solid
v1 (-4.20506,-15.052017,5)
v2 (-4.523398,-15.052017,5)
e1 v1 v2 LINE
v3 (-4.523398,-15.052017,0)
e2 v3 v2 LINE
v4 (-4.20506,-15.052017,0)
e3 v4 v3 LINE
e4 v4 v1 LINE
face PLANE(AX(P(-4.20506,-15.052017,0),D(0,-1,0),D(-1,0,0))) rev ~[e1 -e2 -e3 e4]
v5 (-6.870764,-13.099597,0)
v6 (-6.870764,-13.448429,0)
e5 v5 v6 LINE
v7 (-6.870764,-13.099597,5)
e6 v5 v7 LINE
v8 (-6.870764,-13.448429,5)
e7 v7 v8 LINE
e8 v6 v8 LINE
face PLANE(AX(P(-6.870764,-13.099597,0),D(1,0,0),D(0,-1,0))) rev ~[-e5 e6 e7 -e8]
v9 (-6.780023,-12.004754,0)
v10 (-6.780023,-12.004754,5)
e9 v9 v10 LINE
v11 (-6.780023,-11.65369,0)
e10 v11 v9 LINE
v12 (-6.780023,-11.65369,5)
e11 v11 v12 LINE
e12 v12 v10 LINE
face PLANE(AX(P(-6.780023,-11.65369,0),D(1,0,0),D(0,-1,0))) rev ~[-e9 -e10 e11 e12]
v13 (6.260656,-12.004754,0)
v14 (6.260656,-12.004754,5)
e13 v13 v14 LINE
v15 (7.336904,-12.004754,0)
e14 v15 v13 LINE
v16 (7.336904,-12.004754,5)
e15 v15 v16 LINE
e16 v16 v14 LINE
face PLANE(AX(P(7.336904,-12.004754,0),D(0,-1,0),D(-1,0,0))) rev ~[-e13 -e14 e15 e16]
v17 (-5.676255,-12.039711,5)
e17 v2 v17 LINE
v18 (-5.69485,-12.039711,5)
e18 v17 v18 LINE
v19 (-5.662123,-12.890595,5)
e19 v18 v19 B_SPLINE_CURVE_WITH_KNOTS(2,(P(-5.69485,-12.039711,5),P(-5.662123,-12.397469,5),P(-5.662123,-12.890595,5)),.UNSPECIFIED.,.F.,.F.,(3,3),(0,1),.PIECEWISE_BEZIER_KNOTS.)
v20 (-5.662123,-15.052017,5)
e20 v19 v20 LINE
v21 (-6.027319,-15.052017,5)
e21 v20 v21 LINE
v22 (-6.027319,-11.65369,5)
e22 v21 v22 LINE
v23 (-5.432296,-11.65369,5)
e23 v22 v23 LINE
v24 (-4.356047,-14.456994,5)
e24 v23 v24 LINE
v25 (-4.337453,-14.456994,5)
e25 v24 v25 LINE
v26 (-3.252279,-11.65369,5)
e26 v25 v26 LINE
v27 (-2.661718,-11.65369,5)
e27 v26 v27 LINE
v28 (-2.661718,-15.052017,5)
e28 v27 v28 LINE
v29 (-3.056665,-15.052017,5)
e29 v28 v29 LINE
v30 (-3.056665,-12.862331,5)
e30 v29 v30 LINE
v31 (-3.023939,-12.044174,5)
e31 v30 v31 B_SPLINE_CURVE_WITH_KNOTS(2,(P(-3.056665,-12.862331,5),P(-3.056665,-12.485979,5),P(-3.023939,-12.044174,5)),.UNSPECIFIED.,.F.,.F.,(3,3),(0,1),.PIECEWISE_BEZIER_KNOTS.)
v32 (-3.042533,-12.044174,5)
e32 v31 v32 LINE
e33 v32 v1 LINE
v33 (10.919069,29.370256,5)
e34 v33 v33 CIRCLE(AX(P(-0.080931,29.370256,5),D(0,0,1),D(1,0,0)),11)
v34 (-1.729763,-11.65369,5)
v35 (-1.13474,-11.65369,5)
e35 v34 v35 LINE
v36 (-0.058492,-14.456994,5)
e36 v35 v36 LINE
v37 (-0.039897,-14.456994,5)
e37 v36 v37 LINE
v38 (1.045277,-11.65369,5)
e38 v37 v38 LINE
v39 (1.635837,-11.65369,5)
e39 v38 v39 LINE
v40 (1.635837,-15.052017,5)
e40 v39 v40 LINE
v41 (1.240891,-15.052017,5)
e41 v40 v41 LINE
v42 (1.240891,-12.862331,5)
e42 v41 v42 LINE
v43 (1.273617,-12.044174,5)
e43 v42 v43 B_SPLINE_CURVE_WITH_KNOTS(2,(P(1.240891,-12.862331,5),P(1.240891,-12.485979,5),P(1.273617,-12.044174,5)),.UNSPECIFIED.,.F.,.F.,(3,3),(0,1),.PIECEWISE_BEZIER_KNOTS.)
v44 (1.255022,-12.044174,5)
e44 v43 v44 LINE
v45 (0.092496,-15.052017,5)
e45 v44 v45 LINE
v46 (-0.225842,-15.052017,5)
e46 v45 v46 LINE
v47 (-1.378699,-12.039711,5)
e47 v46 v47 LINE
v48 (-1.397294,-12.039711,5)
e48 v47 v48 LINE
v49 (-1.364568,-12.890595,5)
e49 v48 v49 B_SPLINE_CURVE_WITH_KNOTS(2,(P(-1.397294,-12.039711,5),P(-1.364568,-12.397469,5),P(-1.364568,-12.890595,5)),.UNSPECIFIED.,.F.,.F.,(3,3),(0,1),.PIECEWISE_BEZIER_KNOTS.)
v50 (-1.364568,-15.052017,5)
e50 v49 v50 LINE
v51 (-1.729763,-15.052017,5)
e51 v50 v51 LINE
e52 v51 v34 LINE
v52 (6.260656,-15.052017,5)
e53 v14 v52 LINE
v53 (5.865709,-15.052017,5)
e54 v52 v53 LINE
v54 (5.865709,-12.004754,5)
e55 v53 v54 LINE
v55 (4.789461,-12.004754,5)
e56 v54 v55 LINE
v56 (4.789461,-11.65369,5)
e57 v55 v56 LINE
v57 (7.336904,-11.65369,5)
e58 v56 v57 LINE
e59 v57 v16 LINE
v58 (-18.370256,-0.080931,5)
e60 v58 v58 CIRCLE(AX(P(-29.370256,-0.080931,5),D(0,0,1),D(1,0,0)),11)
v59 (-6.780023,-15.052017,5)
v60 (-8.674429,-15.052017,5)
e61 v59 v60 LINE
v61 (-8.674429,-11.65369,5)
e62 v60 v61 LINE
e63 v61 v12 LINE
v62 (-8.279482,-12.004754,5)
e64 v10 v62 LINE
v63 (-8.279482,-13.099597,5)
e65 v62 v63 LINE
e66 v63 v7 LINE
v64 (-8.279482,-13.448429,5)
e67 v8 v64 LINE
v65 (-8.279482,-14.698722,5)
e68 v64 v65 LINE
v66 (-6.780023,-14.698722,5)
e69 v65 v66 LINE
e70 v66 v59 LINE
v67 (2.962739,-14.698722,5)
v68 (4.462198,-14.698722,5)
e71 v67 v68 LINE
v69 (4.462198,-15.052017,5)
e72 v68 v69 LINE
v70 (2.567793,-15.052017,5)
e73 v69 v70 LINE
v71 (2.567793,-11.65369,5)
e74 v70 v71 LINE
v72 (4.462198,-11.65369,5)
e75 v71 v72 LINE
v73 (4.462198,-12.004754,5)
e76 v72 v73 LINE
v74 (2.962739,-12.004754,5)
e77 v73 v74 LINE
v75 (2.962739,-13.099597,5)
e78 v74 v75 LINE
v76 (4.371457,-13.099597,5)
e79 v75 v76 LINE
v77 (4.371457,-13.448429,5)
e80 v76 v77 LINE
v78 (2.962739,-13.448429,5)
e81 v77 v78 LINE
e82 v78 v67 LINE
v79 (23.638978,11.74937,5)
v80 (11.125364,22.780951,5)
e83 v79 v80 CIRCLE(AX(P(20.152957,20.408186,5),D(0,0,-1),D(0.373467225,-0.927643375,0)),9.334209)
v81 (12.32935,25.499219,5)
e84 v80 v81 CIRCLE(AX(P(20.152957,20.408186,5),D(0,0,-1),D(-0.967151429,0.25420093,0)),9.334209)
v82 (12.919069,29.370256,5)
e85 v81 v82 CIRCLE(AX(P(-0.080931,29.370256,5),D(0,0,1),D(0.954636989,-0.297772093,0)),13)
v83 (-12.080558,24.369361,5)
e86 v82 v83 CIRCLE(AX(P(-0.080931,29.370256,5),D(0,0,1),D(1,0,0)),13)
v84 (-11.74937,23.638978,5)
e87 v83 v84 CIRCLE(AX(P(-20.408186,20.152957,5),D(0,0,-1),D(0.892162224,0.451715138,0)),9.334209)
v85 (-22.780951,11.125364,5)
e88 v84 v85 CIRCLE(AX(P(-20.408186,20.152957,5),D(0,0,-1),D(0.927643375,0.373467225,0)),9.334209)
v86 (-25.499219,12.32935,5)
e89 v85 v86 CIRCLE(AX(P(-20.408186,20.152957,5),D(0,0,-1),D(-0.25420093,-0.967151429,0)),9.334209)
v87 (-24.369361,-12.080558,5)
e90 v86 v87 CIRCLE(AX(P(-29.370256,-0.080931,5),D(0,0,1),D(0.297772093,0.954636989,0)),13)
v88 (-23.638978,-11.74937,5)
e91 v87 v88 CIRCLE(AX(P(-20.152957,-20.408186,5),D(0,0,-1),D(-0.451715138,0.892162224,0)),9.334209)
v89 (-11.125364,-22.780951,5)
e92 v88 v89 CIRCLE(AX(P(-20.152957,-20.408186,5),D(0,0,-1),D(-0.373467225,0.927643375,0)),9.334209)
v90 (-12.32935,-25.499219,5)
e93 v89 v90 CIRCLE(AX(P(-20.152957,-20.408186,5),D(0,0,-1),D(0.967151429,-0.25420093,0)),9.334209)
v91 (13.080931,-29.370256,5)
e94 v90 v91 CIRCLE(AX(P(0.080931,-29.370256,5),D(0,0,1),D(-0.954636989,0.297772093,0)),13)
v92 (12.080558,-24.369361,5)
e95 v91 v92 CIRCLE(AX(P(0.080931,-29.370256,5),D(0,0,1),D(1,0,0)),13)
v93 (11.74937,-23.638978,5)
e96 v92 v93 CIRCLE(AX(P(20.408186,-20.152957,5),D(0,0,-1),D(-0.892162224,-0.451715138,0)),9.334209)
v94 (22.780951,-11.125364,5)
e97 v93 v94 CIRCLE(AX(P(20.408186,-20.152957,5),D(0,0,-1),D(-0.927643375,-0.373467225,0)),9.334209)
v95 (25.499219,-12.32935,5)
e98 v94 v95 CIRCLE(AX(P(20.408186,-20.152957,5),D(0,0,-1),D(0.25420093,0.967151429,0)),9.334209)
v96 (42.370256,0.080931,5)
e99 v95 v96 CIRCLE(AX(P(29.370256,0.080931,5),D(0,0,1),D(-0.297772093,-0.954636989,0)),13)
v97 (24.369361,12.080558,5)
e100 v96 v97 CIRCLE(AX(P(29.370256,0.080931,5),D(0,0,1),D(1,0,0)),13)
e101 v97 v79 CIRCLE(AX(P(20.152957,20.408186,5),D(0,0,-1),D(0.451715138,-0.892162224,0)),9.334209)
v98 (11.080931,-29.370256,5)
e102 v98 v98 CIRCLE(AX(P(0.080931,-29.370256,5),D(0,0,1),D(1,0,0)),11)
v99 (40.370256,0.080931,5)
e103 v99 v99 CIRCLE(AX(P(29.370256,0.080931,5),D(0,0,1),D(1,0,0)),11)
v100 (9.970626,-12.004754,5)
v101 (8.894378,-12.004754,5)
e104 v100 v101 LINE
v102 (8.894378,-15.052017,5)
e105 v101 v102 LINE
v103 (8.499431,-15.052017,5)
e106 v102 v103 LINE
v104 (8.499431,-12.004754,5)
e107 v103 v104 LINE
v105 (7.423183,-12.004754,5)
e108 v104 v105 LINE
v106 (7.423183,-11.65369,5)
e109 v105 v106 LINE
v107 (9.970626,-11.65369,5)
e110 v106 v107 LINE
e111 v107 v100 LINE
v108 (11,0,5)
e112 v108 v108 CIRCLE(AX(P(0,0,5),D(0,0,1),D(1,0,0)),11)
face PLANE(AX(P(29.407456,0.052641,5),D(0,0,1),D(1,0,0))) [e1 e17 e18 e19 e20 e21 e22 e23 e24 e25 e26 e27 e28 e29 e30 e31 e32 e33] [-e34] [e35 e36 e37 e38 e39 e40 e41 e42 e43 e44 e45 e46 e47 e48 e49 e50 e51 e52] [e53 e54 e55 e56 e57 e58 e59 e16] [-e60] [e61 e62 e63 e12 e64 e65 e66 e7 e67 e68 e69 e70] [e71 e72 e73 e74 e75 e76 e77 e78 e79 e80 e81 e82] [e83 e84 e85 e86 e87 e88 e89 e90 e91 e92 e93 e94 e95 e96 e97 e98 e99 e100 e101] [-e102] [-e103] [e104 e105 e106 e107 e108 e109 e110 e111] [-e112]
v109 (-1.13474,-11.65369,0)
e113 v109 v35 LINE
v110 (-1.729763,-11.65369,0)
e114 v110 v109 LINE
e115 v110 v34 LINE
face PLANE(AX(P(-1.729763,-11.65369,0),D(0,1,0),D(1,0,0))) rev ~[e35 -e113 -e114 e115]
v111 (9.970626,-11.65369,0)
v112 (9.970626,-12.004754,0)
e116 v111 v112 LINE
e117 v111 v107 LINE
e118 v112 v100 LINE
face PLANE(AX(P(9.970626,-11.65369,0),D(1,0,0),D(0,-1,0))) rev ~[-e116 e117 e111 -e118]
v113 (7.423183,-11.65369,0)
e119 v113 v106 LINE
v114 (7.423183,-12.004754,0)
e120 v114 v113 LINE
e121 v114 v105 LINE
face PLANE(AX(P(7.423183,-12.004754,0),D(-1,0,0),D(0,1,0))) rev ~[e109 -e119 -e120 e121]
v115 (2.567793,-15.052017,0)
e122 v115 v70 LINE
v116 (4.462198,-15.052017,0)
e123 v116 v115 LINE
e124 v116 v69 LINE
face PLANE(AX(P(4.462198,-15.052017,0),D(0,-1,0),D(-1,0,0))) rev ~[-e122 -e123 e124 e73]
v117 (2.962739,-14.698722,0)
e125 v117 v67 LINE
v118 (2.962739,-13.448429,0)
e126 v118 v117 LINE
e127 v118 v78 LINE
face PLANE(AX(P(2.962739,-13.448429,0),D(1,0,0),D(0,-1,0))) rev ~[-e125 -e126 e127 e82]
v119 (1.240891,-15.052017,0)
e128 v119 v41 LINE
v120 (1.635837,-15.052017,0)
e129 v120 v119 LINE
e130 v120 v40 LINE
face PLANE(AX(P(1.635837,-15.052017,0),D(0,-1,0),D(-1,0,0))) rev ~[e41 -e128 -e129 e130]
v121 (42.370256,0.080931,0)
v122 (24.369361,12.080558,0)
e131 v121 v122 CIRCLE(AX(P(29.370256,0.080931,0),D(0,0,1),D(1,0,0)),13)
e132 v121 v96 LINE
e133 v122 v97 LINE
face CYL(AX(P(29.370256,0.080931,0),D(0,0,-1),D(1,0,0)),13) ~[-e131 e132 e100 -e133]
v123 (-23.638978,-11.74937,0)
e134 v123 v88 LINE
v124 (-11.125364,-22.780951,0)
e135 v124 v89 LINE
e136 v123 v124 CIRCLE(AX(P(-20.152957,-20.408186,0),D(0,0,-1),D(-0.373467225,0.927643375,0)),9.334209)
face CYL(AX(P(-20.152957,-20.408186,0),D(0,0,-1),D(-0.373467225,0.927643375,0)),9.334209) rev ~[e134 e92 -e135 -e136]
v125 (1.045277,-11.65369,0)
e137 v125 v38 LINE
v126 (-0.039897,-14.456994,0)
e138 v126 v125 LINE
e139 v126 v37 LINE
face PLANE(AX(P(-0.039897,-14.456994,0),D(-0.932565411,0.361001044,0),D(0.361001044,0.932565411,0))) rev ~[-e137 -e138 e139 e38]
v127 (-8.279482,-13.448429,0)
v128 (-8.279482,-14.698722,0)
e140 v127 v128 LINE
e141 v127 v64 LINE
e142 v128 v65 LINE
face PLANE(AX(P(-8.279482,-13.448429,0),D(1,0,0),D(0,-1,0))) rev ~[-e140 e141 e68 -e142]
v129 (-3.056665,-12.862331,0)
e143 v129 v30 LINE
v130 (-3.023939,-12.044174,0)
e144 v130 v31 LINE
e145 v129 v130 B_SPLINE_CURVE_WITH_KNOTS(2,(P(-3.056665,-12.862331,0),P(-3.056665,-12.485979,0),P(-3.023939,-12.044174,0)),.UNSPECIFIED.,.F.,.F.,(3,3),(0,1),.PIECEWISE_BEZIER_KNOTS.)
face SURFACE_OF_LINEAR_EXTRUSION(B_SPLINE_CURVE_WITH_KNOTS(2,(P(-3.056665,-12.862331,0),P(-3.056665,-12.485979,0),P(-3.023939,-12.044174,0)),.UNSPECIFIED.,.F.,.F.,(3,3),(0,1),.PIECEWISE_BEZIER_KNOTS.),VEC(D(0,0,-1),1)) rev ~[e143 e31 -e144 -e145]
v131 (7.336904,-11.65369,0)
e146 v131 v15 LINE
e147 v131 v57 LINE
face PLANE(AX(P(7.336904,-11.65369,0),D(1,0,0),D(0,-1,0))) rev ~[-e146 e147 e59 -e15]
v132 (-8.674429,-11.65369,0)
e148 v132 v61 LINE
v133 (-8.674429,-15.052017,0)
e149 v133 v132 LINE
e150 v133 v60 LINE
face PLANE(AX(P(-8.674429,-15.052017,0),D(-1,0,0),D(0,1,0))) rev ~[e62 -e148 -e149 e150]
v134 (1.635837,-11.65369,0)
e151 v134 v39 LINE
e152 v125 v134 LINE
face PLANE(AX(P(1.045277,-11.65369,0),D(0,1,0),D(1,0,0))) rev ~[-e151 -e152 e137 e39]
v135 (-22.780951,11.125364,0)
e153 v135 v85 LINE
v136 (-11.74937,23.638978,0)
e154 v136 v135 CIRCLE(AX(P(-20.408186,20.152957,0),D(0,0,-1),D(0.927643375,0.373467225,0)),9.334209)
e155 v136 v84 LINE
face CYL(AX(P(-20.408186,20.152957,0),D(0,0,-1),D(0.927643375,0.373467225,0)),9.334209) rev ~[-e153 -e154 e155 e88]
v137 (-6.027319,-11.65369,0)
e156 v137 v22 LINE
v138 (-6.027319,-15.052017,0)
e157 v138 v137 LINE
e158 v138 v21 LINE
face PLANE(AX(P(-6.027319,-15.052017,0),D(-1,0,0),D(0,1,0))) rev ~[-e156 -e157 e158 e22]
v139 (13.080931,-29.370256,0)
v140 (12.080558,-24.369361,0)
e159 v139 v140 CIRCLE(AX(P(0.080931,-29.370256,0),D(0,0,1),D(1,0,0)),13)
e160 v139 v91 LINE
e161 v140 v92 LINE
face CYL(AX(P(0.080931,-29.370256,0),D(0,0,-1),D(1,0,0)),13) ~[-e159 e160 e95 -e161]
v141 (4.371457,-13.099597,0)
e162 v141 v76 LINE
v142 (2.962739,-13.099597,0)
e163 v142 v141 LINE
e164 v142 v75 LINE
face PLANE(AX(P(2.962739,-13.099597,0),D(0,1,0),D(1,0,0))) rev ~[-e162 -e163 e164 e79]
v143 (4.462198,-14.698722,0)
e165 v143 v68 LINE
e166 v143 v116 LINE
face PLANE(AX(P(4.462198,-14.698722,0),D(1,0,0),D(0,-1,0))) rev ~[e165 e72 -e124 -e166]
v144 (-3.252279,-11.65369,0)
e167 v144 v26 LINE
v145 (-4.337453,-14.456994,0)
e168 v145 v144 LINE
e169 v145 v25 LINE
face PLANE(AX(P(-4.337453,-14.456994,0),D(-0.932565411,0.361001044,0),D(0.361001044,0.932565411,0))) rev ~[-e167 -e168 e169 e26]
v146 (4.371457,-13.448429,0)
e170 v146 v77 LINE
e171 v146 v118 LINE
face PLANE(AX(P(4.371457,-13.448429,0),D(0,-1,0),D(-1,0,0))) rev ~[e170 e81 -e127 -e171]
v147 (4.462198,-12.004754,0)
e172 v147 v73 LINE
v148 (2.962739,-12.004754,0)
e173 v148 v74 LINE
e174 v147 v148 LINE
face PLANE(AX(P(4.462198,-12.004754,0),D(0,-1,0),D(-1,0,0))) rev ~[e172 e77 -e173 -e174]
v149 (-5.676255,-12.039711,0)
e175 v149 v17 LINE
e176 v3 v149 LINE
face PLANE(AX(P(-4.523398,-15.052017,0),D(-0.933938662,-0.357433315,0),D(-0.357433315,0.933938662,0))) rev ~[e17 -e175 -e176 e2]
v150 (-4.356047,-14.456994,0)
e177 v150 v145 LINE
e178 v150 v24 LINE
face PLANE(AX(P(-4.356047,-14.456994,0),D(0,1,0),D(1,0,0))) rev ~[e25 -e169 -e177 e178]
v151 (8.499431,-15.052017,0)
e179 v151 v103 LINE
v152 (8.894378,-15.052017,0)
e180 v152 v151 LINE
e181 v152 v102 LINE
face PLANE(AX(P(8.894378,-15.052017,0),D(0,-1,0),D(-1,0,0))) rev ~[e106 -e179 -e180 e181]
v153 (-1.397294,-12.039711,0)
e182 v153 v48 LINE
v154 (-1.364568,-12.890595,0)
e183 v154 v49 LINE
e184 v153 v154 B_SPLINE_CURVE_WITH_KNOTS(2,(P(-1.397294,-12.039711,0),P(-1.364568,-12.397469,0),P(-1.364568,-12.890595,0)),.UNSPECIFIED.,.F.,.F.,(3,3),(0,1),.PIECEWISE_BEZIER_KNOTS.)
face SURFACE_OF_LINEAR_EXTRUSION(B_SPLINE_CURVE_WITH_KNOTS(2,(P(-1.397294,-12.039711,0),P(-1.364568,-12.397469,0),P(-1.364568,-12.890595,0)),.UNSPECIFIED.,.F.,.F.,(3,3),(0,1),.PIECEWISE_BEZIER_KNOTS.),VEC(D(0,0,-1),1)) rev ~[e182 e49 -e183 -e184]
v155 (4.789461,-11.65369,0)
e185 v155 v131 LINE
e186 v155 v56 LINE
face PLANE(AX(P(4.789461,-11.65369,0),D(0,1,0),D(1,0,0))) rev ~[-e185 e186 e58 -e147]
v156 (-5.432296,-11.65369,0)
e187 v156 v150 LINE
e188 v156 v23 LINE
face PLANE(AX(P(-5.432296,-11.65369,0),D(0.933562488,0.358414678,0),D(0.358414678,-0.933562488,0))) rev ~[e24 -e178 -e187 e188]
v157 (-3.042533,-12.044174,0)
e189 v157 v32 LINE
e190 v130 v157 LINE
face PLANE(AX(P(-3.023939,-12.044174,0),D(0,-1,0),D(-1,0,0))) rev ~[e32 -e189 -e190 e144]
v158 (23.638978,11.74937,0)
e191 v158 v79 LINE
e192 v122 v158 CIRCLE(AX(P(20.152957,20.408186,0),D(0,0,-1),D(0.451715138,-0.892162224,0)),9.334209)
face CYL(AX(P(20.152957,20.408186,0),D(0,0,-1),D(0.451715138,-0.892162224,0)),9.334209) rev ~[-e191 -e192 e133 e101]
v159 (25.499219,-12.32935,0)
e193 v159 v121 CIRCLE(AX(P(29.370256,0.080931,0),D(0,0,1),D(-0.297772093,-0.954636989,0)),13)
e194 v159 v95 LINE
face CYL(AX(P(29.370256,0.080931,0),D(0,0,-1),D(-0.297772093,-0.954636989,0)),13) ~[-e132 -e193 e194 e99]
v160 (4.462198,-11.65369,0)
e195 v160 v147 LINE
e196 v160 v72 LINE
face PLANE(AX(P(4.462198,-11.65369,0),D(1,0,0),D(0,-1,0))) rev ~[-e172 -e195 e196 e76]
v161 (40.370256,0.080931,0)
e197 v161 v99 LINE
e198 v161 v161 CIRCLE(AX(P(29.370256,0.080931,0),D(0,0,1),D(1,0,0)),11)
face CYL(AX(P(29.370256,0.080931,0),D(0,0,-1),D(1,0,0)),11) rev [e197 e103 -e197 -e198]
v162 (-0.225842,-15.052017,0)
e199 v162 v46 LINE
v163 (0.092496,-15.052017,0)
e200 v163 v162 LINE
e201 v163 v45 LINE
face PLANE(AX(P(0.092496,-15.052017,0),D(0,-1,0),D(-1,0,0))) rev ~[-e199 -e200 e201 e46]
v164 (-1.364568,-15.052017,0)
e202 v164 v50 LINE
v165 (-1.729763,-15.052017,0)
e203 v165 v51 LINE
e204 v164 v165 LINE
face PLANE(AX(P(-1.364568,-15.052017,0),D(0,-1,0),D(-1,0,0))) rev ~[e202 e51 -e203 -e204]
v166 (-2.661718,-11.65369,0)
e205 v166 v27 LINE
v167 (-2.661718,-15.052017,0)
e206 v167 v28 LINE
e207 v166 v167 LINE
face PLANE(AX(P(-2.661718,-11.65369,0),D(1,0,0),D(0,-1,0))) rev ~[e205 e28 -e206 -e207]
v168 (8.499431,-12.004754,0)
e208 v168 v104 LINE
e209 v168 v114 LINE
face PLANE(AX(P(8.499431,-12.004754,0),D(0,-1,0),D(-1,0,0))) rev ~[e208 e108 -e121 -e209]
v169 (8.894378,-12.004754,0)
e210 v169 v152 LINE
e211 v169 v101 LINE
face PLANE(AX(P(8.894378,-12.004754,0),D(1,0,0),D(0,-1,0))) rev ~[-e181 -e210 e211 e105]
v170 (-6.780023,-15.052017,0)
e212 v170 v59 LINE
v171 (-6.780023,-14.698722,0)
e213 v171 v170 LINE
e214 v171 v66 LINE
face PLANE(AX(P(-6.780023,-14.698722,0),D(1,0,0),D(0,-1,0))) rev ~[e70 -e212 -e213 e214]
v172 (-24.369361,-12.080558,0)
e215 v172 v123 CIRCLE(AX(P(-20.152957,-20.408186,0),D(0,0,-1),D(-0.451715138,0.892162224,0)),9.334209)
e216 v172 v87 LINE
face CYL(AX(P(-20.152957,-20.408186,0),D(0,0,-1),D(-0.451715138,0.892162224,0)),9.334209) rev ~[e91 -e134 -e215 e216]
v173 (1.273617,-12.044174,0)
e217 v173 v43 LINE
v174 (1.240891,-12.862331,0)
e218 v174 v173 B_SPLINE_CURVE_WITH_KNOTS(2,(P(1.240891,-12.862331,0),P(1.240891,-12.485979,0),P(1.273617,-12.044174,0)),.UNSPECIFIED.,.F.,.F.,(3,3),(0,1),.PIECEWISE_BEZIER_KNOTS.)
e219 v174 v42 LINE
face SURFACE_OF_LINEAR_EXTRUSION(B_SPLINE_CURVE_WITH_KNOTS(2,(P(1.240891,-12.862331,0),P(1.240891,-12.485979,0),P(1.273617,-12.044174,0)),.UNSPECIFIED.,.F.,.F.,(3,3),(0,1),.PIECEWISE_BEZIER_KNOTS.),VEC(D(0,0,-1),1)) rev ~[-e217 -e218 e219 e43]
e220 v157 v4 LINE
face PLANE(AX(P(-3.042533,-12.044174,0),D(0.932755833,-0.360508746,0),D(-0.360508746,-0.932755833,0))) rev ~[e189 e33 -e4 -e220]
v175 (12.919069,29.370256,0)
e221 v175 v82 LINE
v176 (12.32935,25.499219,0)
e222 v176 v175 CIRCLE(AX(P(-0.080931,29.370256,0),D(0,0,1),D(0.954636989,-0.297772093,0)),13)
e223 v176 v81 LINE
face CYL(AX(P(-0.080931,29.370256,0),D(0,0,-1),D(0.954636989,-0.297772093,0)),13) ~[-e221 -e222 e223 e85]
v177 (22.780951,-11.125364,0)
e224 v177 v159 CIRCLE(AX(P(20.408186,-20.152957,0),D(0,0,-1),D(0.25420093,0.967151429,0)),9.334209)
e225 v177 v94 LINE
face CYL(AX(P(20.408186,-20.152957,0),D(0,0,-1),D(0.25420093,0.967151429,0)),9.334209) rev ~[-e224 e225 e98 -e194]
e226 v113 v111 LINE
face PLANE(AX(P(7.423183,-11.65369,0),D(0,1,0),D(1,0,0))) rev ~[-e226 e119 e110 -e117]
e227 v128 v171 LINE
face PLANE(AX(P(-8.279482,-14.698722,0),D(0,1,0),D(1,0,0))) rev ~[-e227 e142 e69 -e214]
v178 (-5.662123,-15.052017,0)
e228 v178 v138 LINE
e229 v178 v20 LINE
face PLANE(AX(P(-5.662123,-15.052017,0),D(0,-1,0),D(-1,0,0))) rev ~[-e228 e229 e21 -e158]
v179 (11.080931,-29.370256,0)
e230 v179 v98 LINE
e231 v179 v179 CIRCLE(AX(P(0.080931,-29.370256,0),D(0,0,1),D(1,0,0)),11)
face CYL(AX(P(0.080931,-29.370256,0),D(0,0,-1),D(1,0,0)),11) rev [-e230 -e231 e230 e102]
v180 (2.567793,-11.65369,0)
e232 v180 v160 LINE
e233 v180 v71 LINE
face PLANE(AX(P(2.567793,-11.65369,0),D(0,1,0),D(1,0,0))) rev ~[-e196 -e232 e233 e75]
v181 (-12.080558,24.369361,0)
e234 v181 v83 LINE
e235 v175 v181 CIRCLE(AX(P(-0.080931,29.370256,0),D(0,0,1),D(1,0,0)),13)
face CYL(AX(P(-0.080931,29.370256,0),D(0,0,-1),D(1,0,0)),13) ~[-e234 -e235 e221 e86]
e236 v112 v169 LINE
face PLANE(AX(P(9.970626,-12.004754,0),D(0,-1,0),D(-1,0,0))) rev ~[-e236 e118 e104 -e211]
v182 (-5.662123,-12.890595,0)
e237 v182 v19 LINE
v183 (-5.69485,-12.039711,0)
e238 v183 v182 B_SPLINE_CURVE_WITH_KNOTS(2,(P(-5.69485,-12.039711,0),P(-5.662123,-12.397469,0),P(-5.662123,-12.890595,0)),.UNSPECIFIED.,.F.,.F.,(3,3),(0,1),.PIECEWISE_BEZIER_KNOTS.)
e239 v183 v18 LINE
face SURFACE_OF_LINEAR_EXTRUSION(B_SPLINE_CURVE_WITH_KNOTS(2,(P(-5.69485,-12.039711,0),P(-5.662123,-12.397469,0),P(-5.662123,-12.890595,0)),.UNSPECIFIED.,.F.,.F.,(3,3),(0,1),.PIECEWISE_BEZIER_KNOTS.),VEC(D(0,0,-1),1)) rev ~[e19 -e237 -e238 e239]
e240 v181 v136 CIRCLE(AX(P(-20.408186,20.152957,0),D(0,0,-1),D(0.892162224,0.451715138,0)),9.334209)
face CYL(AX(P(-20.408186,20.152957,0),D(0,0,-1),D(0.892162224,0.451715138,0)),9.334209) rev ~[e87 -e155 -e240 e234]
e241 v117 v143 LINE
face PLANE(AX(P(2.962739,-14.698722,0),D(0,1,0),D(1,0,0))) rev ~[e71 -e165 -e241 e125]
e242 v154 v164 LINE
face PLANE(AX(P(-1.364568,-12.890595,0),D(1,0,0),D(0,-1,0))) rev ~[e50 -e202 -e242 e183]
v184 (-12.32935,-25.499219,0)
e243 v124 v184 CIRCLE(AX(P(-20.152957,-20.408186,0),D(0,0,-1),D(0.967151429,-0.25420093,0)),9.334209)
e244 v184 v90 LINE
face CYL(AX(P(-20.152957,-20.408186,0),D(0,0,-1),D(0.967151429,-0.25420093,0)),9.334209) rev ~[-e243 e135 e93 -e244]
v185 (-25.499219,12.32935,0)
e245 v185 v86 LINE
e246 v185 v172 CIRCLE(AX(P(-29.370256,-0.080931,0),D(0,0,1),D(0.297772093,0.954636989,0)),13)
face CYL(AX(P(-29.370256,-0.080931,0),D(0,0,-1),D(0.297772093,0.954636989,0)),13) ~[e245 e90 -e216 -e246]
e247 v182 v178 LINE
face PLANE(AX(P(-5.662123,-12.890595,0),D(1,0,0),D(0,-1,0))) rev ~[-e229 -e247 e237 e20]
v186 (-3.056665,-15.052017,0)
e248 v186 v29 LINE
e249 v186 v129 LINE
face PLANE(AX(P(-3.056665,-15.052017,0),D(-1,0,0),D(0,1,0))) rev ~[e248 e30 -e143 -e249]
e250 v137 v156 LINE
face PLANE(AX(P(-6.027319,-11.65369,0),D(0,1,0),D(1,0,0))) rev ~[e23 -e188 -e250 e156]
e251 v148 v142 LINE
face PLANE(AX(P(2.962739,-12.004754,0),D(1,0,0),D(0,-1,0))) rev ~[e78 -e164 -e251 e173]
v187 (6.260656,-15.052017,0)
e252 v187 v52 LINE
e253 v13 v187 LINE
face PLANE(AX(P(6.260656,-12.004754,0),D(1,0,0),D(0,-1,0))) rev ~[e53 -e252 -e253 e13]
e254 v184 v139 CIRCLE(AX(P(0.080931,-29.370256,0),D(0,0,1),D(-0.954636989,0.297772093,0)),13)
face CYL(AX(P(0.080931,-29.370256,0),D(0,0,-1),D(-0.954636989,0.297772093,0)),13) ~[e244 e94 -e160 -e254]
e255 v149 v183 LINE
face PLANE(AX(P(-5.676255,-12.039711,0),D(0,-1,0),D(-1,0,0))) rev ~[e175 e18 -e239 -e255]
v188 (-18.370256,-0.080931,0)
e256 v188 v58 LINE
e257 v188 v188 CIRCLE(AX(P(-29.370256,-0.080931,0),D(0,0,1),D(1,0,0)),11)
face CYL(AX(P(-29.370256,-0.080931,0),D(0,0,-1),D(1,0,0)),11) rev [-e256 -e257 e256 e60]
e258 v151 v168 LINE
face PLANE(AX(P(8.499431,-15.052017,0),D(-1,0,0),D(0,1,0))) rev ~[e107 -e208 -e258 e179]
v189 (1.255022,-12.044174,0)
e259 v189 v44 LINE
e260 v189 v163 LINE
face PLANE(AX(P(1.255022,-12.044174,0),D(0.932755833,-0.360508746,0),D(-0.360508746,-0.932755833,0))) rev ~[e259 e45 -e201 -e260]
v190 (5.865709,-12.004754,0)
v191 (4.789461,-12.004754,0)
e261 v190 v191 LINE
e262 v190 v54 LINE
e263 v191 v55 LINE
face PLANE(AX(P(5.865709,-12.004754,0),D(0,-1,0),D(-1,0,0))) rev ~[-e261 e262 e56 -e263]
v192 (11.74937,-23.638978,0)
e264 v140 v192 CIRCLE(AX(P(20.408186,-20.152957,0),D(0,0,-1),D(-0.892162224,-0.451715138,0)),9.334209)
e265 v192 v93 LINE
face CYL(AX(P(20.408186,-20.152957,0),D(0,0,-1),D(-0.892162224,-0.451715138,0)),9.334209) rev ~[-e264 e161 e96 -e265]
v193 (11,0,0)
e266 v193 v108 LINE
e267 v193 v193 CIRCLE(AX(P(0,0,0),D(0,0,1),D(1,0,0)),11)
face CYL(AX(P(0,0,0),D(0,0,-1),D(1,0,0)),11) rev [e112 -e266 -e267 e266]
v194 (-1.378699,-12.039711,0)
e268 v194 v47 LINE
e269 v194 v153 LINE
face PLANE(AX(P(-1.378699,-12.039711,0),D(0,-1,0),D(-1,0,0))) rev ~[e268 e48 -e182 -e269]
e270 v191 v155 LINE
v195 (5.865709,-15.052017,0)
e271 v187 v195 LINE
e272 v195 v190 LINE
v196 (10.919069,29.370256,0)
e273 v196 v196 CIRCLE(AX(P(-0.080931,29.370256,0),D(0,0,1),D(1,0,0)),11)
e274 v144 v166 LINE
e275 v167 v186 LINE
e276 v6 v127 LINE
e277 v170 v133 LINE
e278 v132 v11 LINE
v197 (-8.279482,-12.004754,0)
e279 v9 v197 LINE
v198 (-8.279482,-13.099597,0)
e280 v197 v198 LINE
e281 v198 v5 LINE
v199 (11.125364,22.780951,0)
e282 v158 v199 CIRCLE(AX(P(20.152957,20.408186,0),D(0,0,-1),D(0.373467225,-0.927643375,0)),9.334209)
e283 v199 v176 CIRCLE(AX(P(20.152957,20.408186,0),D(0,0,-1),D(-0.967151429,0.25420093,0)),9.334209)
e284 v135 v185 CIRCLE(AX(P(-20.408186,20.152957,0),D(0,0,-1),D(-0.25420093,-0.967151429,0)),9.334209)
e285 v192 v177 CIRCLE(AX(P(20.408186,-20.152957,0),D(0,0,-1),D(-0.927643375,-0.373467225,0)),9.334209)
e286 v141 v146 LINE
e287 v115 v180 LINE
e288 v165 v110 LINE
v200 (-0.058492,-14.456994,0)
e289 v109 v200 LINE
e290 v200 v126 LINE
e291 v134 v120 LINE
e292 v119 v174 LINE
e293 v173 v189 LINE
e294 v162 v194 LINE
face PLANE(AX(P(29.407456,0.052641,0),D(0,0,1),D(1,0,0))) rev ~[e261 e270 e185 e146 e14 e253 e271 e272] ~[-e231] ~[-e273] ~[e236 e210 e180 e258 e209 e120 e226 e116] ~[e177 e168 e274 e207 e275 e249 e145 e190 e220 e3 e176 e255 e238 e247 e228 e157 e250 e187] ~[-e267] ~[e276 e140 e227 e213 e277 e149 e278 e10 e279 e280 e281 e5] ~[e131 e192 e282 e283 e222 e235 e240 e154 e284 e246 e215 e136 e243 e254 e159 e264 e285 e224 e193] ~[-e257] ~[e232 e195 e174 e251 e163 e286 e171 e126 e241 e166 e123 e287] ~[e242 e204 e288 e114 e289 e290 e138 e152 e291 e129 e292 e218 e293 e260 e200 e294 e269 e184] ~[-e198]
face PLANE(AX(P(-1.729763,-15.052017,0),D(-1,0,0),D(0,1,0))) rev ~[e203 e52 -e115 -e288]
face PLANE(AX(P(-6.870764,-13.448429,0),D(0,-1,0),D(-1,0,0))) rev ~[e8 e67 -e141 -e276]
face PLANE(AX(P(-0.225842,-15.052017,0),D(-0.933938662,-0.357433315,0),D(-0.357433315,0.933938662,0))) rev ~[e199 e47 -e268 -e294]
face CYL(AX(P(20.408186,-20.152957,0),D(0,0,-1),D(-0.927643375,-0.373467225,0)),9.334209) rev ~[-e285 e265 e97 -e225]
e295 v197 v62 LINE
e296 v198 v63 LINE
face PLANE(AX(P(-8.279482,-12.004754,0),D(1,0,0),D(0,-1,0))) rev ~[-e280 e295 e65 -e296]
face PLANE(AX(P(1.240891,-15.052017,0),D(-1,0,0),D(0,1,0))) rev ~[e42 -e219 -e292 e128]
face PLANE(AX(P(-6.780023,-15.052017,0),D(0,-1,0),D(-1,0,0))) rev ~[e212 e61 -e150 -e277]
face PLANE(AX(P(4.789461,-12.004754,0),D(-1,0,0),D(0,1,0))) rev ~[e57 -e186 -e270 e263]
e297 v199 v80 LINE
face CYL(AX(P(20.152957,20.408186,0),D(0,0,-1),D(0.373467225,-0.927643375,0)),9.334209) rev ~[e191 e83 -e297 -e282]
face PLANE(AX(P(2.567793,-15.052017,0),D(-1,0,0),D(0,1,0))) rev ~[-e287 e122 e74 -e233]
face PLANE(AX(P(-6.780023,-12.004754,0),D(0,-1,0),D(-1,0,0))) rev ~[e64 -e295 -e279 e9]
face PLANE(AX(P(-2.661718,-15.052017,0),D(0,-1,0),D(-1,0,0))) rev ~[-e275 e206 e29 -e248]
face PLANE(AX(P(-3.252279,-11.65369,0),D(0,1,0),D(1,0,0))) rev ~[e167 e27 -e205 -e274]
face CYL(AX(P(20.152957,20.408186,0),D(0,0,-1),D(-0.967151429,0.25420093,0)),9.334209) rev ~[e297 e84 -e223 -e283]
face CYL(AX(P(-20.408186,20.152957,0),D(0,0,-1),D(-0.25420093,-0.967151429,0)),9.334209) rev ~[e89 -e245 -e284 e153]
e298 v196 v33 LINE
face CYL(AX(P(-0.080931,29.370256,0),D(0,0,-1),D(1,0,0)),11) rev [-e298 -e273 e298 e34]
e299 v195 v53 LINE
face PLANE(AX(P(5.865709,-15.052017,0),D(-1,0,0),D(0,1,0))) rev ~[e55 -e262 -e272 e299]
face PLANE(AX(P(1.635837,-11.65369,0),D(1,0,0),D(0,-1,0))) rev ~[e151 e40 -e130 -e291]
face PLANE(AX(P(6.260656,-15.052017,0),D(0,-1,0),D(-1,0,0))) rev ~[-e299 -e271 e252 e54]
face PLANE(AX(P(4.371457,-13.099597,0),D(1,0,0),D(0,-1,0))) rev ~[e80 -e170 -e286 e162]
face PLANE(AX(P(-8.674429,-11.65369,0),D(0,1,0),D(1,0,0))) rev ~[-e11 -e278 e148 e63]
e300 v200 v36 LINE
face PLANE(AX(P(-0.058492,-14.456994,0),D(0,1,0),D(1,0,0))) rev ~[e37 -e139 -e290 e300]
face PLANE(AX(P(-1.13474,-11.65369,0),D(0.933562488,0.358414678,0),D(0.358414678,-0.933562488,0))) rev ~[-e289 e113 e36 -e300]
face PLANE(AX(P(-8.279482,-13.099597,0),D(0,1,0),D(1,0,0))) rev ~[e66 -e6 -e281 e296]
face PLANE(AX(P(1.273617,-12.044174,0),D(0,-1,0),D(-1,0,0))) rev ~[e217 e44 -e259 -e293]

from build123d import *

# Parameters (mm, degrees)
F0_R     = 11
F1_DEPTH = 5


with BuildPart() as f1:
    # F0 (on Top) → F1 (new body)
    with BuildSketch(Plane.XY):
        with BuildLine():
            ThreePointArc((24.3693606457, 12.0805580484), (24.0077279335, 11.9071162023), (23.6389782963, 11.7493695776))
            ThreePointArc((23.6389782963, 11.7493695776), (16.3793921161, 0.5682163901), (22.7809509477, -11.1253640126))
            ThreePointArc((22.7809509477, -11.1253640126), (24.1883269703, -11.6184397697), (25.4992191241, -12.3293495618))
            ThreePointArc((25.4992191241, -12.3293495618), (37.0733893442, -10.3910189502), (42.3702563381, 0.0809312927))
            ThreePointArc((42.3702563381, 0.0809312927), (36.5809551946, 10.8978542378), (24.3693606457, 12.0805580484))
        make_face()
        with Locations((29.3702563381, 0.0809312927)):
            Circle(F0_R, mode=Mode.SUBTRACT)
        with BuildLine():
            ThreePointArc((12.0805580484, -24.3693606457), (11.9071162023, -24.0077279335), (11.7493695776, -23.6389782963))
            ThreePointArc((11.7493695776, -23.6389782963), (0.5682163901, -16.3793921161), (-11.1253640126, -22.7809509477))
            ThreePointArc((-11.1253640126, -22.7809509477), (-11.6184397697, -24.1883269703), (-12.3293495618, -25.4992191241))
            ThreePointArc((-12.3293495618, -25.4992191241), (-1.8769181513, -42.2219809521), (13.0809312927, -29.3702563381))
            ThreePointArc((13.0809312927, -29.3702563381), (12.8283849173, -26.8202708306), (12.0805580484, -24.3693606457))
        make_face()
        with Locations((0.0809312927, -29.3702563381)):
            Circle(F0_R, mode=Mode.SUBTRACT)
        with BuildLine():
            ThreePointArc((-16.3702563381, -0.0809312927), (-18.0861752928, 6.3742615752), (-22.7809509477, 11.1253640126))
            ThreePointArc((-22.7809509477, 11.1253640126), (-24.1883269703, 11.6184397697), (-25.4992191241, 12.3293495618))
            ThreePointArc((-25.4992191241, 12.3293495618), (-42.3563525859, -0.6820171789), (-24.3693606457, -12.0805580484))
            ThreePointArc((-24.3693606457, -12.0805580484), (-24.0077279335, -11.9071162023), (-23.6389782963, -11.7493695776))
            ThreePointArc((-23.6389782963, -11.7493695776), (-18.336068227, -6.9545542624), (-16.3702563381, -0.0809312927))
        make_face()
        with Locations((-29.3702563381, -0.0809312927)):
            Circle(F0_R, mode=Mode.SUBTRACT)
        with BuildLine():
            ThreePointArc((12.3293495618, 25.4992191241), (12.7707933213, 27.412406894), (12.9190687073, 29.3702563381))
            ThreePointArc((12.9190687073, 29.3702563381), (-2.6309168002, 42.1177099627), (-12.0805580484, 24.3693606457))
            ThreePointArc((-12.0805580484, 24.3693606457), (-11.9071162023, 24.0077279335), (-11.7493695776, 23.6389782963))
            ThreePointArc((-11.7493695776, 23.6389782963), (-0.5682163901, 16.3793921161), (11.1253640126, 22.7809509477))
            ThreePointArc((11.1253640126, 22.7809509477), (11.6184397697, 24.1883269703), (12.3293495618, 25.4992191241))
        make_face()
        with Locations((-0.0809312927, 29.3702563381)):
            Circle(F0_R, mode=Mode.SUBTRACT)
        with BuildLine():
            ThreePointArc((11.1253640126, 22.7809509477), (-0.5682163901, 16.3793921161), (-11.7493695776, 23.6389782963))
            ThreePointArc((-11.7493695776, 23.6389782963), (-13.4063117417, 13.9803401177), (-22.7809509477, 11.1253640126))
            ThreePointArc((-22.7809509477, 11.1253640126), (-18.0861752928, 6.3742615752), (-16.3702563381, -0.0809312927))
            ThreePointArc((-16.3702563381, -0.0809312927), (-18.336068227, -6.9545542624), (-23.6389782963, -11.7493695776))
            ThreePointArc((-23.6389782963, -11.7493695776), (-13.9803401177, -13.4063117417), (-11.1253640126, -22.7809509477))
            ThreePointArc((-11.1253640126, -22.7809509477), (0.5682163901, -16.3793921161), (11.7493695776, -23.6389782963))
            ThreePointArc((11.7493695776, -23.6389782963), (13.4063117417, -13.9803401177), (22.7809509477, -11.1253640126))
            ThreePointArc((22.7809509477, -11.1253640126), (16.3793921161, 0.5682163901), (23.6389782963, 11.7493695776))
            ThreePointArc((23.6389782963, 11.7493695776), (13.9803401177, 13.4063117417), (11.1253640126, 22.7809509477))
        make_face()
        Polygon((-6.780023326, -14.6987217482), (-6.780023326, -15.0520168245), (-8.6744287142, -15.0520168245), (-8.6744287142, -11.6536900799), (-6.780023326, -11.6536900799), (-6.780023326, -12.0047538189), (-8.2794820078, -12.0047538189), (-8.2794820078, -13.0995966659), (-6.8707643772, -13.0995966659), (-6.8707643772, -13.4484290676), (-8.2794820078, -13.4484290676), (-8.2794820078, -14.6987217482), align=None, mode=Mode.SUBTRACT)
        with BuildLine():
            Line((-4.205060054, -15.0520168245), (-4.5233975123, -15.0520168245))
            Line((-4.5233975123, -15.0520168245), (-5.6762551297, -12.039711437))
            Line((-5.6762551297, -12.039711437), (-5.6948496074, -12.039711437))
            add(Edge.make_bspline(
                [(-5.6948496074, -12.039711437), (-5.6621233267, -12.3974691879), (-5.6621233267, -12.8905947365)],
                knots=[0, 0, 0, 1, 1, 1], degree=2))
            Line((-5.6621233267, -12.8905947365), (-5.6621233267, -15.0520168245))
            Line((-5.6621233267, -15.0520168245), (-6.0273188687, -15.0520168245))
            Line((-6.0273188687, -15.0520168245), (-6.0273188687, -11.6536900799))
            Line((-6.0273188687, -11.6536900799), (-5.4322955823, -11.6536900799))
            Line((-5.4322955823, -11.6536900799), (-4.3560472129, -14.4569935381))
            Line((-4.3560472129, -14.4569935381), (-4.3374527352, -14.4569935381))
            Line((-4.3374527352, -14.4569935381), (-3.2522790166, -11.6536900799))
            Line((-3.2522790166, -11.6536900799), (-2.6617184049, -11.6536900799))
            Line((-2.6617184049, -11.6536900799), (-2.6617184049, -15.0520168245))
            Line((-2.6617184049, -15.0520168245), (-3.0566651112, -15.0520168245))
            Line((-3.0566651112, -15.0520168245), (-3.0566651112, -12.8623311304))
            add(Edge.make_bspline(
                [(-3.0566651112, -12.8623311304), (-3.0566651112, -12.4859789018), (-3.0239388305, -12.0441741116)],
                knots=[0, 0, 0, 1, 1, 1], degree=2))
            Line((-3.0239388305, -12.0441741116), (-3.0425333082, -12.0441741116))
            Line((-3.0425333082, -12.0441741116), (-4.205060054, -15.0520168245))
        make_face(mode=Mode.SUBTRACT)
        with BuildLine():
            Line((0.0924956322, -15.0520168245), (-0.225841826, -15.0520168245))
            Line((-0.225841826, -15.0520168245), (-1.3786994435, -12.039711437))
            Line((-1.3786994435, -12.039711437), (-1.3972939212, -12.039711437))
            add(Edge.make_bspline(
                [(-1.3972939212, -12.039711437), (-1.3645676404, -12.3974691879), (-1.3645676404, -12.8905947365)],
                knots=[0, 0, 0, 1, 1, 1], degree=2))
            Line((-1.3645676404, -12.8905947365), (-1.3645676404, -15.0520168245))
            Line((-1.3645676404, -15.0520168245), (-1.7297631825, -15.0520168245))
            Line((-1.7297631825, -15.0520168245), (-1.7297631825, -11.6536900799))
            Line((-1.7297631825, -11.6536900799), (-1.1347398961, -11.6536900799))
            Line((-1.1347398961, -11.6536900799), (-0.0584915267, -14.4569935381))
            Line((-0.0584915267, -14.4569935381), (-0.039897049, -14.4569935381))
            Line((-0.039897049, -14.4569935381), (1.0452766696, -11.6536900799))
            Line((1.0452766696, -11.6536900799), (1.6358372814, -11.6536900799))
            Line((1.6358372814, -11.6536900799), (1.6358372814, -15.0520168245))
            Line((1.6358372814, -15.0520168245), (1.240890575, -15.0520168245))
            Line((1.240890575, -15.0520168245), (1.240890575, -12.8623311304))
            add(Edge.make_bspline(
                [(1.240890575, -12.8623311304), (1.240890575, -12.4859789018), (1.2736168557, -12.0441741116)],
                knots=[0, 0, 0, 1, 1, 1], degree=2))
            Line((1.2736168557, -12.0441741116), (1.255022378, -12.0441741116))
            Line((1.255022378, -12.0441741116), (0.0924956322, -15.0520168245))
        make_face(mode=Mode.SUBTRACT)
        Polygon((4.4621978919, -14.6987217482), (4.4621978919, -15.0520168245), (2.5677925037, -15.0520168245), (2.5677925037, -11.6536900799), (4.4621978919, -11.6536900799), (4.4621978919, -12.0047538189), (2.9627392101, -12.0047538189), (2.9627392101, -13.0995966659), (4.3714568407, -13.0995966659), (4.3714568407, -13.4484290676), (2.9627392101, -13.4484290676), (2.9627392101, -14.6987217482), align=None, mode=Mode.SUBTRACT)
        Polygon((6.2606557751, -12.0047538189), (6.2606557751, -15.0520168245), (5.8657090687, -15.0520168245), (5.8657090687, -12.0047538189), (4.7894606994, -12.0047538189), (4.7894606994, -11.6536900799), (7.3369041444, -11.6536900799), (7.3369041444, -12.0047538189), align=None, mode=Mode.SUBTRACT)
        Polygon((8.8943775966, -12.0047538189), (8.8943775966, -15.0520168245), (8.4994308903, -15.0520168245), (8.4994308903, -12.0047538189), (7.423182521, -12.0047538189), (7.423182521, -11.6536900799), (9.970625966, -11.6536900799), (9.970625966, -12.0047538189), align=None, mode=Mode.SUBTRACT)
        Circle(F0_R, mode=Mode.SUBTRACT)
    extrude(amount=F1_DEPTH)


solid = f1.part
